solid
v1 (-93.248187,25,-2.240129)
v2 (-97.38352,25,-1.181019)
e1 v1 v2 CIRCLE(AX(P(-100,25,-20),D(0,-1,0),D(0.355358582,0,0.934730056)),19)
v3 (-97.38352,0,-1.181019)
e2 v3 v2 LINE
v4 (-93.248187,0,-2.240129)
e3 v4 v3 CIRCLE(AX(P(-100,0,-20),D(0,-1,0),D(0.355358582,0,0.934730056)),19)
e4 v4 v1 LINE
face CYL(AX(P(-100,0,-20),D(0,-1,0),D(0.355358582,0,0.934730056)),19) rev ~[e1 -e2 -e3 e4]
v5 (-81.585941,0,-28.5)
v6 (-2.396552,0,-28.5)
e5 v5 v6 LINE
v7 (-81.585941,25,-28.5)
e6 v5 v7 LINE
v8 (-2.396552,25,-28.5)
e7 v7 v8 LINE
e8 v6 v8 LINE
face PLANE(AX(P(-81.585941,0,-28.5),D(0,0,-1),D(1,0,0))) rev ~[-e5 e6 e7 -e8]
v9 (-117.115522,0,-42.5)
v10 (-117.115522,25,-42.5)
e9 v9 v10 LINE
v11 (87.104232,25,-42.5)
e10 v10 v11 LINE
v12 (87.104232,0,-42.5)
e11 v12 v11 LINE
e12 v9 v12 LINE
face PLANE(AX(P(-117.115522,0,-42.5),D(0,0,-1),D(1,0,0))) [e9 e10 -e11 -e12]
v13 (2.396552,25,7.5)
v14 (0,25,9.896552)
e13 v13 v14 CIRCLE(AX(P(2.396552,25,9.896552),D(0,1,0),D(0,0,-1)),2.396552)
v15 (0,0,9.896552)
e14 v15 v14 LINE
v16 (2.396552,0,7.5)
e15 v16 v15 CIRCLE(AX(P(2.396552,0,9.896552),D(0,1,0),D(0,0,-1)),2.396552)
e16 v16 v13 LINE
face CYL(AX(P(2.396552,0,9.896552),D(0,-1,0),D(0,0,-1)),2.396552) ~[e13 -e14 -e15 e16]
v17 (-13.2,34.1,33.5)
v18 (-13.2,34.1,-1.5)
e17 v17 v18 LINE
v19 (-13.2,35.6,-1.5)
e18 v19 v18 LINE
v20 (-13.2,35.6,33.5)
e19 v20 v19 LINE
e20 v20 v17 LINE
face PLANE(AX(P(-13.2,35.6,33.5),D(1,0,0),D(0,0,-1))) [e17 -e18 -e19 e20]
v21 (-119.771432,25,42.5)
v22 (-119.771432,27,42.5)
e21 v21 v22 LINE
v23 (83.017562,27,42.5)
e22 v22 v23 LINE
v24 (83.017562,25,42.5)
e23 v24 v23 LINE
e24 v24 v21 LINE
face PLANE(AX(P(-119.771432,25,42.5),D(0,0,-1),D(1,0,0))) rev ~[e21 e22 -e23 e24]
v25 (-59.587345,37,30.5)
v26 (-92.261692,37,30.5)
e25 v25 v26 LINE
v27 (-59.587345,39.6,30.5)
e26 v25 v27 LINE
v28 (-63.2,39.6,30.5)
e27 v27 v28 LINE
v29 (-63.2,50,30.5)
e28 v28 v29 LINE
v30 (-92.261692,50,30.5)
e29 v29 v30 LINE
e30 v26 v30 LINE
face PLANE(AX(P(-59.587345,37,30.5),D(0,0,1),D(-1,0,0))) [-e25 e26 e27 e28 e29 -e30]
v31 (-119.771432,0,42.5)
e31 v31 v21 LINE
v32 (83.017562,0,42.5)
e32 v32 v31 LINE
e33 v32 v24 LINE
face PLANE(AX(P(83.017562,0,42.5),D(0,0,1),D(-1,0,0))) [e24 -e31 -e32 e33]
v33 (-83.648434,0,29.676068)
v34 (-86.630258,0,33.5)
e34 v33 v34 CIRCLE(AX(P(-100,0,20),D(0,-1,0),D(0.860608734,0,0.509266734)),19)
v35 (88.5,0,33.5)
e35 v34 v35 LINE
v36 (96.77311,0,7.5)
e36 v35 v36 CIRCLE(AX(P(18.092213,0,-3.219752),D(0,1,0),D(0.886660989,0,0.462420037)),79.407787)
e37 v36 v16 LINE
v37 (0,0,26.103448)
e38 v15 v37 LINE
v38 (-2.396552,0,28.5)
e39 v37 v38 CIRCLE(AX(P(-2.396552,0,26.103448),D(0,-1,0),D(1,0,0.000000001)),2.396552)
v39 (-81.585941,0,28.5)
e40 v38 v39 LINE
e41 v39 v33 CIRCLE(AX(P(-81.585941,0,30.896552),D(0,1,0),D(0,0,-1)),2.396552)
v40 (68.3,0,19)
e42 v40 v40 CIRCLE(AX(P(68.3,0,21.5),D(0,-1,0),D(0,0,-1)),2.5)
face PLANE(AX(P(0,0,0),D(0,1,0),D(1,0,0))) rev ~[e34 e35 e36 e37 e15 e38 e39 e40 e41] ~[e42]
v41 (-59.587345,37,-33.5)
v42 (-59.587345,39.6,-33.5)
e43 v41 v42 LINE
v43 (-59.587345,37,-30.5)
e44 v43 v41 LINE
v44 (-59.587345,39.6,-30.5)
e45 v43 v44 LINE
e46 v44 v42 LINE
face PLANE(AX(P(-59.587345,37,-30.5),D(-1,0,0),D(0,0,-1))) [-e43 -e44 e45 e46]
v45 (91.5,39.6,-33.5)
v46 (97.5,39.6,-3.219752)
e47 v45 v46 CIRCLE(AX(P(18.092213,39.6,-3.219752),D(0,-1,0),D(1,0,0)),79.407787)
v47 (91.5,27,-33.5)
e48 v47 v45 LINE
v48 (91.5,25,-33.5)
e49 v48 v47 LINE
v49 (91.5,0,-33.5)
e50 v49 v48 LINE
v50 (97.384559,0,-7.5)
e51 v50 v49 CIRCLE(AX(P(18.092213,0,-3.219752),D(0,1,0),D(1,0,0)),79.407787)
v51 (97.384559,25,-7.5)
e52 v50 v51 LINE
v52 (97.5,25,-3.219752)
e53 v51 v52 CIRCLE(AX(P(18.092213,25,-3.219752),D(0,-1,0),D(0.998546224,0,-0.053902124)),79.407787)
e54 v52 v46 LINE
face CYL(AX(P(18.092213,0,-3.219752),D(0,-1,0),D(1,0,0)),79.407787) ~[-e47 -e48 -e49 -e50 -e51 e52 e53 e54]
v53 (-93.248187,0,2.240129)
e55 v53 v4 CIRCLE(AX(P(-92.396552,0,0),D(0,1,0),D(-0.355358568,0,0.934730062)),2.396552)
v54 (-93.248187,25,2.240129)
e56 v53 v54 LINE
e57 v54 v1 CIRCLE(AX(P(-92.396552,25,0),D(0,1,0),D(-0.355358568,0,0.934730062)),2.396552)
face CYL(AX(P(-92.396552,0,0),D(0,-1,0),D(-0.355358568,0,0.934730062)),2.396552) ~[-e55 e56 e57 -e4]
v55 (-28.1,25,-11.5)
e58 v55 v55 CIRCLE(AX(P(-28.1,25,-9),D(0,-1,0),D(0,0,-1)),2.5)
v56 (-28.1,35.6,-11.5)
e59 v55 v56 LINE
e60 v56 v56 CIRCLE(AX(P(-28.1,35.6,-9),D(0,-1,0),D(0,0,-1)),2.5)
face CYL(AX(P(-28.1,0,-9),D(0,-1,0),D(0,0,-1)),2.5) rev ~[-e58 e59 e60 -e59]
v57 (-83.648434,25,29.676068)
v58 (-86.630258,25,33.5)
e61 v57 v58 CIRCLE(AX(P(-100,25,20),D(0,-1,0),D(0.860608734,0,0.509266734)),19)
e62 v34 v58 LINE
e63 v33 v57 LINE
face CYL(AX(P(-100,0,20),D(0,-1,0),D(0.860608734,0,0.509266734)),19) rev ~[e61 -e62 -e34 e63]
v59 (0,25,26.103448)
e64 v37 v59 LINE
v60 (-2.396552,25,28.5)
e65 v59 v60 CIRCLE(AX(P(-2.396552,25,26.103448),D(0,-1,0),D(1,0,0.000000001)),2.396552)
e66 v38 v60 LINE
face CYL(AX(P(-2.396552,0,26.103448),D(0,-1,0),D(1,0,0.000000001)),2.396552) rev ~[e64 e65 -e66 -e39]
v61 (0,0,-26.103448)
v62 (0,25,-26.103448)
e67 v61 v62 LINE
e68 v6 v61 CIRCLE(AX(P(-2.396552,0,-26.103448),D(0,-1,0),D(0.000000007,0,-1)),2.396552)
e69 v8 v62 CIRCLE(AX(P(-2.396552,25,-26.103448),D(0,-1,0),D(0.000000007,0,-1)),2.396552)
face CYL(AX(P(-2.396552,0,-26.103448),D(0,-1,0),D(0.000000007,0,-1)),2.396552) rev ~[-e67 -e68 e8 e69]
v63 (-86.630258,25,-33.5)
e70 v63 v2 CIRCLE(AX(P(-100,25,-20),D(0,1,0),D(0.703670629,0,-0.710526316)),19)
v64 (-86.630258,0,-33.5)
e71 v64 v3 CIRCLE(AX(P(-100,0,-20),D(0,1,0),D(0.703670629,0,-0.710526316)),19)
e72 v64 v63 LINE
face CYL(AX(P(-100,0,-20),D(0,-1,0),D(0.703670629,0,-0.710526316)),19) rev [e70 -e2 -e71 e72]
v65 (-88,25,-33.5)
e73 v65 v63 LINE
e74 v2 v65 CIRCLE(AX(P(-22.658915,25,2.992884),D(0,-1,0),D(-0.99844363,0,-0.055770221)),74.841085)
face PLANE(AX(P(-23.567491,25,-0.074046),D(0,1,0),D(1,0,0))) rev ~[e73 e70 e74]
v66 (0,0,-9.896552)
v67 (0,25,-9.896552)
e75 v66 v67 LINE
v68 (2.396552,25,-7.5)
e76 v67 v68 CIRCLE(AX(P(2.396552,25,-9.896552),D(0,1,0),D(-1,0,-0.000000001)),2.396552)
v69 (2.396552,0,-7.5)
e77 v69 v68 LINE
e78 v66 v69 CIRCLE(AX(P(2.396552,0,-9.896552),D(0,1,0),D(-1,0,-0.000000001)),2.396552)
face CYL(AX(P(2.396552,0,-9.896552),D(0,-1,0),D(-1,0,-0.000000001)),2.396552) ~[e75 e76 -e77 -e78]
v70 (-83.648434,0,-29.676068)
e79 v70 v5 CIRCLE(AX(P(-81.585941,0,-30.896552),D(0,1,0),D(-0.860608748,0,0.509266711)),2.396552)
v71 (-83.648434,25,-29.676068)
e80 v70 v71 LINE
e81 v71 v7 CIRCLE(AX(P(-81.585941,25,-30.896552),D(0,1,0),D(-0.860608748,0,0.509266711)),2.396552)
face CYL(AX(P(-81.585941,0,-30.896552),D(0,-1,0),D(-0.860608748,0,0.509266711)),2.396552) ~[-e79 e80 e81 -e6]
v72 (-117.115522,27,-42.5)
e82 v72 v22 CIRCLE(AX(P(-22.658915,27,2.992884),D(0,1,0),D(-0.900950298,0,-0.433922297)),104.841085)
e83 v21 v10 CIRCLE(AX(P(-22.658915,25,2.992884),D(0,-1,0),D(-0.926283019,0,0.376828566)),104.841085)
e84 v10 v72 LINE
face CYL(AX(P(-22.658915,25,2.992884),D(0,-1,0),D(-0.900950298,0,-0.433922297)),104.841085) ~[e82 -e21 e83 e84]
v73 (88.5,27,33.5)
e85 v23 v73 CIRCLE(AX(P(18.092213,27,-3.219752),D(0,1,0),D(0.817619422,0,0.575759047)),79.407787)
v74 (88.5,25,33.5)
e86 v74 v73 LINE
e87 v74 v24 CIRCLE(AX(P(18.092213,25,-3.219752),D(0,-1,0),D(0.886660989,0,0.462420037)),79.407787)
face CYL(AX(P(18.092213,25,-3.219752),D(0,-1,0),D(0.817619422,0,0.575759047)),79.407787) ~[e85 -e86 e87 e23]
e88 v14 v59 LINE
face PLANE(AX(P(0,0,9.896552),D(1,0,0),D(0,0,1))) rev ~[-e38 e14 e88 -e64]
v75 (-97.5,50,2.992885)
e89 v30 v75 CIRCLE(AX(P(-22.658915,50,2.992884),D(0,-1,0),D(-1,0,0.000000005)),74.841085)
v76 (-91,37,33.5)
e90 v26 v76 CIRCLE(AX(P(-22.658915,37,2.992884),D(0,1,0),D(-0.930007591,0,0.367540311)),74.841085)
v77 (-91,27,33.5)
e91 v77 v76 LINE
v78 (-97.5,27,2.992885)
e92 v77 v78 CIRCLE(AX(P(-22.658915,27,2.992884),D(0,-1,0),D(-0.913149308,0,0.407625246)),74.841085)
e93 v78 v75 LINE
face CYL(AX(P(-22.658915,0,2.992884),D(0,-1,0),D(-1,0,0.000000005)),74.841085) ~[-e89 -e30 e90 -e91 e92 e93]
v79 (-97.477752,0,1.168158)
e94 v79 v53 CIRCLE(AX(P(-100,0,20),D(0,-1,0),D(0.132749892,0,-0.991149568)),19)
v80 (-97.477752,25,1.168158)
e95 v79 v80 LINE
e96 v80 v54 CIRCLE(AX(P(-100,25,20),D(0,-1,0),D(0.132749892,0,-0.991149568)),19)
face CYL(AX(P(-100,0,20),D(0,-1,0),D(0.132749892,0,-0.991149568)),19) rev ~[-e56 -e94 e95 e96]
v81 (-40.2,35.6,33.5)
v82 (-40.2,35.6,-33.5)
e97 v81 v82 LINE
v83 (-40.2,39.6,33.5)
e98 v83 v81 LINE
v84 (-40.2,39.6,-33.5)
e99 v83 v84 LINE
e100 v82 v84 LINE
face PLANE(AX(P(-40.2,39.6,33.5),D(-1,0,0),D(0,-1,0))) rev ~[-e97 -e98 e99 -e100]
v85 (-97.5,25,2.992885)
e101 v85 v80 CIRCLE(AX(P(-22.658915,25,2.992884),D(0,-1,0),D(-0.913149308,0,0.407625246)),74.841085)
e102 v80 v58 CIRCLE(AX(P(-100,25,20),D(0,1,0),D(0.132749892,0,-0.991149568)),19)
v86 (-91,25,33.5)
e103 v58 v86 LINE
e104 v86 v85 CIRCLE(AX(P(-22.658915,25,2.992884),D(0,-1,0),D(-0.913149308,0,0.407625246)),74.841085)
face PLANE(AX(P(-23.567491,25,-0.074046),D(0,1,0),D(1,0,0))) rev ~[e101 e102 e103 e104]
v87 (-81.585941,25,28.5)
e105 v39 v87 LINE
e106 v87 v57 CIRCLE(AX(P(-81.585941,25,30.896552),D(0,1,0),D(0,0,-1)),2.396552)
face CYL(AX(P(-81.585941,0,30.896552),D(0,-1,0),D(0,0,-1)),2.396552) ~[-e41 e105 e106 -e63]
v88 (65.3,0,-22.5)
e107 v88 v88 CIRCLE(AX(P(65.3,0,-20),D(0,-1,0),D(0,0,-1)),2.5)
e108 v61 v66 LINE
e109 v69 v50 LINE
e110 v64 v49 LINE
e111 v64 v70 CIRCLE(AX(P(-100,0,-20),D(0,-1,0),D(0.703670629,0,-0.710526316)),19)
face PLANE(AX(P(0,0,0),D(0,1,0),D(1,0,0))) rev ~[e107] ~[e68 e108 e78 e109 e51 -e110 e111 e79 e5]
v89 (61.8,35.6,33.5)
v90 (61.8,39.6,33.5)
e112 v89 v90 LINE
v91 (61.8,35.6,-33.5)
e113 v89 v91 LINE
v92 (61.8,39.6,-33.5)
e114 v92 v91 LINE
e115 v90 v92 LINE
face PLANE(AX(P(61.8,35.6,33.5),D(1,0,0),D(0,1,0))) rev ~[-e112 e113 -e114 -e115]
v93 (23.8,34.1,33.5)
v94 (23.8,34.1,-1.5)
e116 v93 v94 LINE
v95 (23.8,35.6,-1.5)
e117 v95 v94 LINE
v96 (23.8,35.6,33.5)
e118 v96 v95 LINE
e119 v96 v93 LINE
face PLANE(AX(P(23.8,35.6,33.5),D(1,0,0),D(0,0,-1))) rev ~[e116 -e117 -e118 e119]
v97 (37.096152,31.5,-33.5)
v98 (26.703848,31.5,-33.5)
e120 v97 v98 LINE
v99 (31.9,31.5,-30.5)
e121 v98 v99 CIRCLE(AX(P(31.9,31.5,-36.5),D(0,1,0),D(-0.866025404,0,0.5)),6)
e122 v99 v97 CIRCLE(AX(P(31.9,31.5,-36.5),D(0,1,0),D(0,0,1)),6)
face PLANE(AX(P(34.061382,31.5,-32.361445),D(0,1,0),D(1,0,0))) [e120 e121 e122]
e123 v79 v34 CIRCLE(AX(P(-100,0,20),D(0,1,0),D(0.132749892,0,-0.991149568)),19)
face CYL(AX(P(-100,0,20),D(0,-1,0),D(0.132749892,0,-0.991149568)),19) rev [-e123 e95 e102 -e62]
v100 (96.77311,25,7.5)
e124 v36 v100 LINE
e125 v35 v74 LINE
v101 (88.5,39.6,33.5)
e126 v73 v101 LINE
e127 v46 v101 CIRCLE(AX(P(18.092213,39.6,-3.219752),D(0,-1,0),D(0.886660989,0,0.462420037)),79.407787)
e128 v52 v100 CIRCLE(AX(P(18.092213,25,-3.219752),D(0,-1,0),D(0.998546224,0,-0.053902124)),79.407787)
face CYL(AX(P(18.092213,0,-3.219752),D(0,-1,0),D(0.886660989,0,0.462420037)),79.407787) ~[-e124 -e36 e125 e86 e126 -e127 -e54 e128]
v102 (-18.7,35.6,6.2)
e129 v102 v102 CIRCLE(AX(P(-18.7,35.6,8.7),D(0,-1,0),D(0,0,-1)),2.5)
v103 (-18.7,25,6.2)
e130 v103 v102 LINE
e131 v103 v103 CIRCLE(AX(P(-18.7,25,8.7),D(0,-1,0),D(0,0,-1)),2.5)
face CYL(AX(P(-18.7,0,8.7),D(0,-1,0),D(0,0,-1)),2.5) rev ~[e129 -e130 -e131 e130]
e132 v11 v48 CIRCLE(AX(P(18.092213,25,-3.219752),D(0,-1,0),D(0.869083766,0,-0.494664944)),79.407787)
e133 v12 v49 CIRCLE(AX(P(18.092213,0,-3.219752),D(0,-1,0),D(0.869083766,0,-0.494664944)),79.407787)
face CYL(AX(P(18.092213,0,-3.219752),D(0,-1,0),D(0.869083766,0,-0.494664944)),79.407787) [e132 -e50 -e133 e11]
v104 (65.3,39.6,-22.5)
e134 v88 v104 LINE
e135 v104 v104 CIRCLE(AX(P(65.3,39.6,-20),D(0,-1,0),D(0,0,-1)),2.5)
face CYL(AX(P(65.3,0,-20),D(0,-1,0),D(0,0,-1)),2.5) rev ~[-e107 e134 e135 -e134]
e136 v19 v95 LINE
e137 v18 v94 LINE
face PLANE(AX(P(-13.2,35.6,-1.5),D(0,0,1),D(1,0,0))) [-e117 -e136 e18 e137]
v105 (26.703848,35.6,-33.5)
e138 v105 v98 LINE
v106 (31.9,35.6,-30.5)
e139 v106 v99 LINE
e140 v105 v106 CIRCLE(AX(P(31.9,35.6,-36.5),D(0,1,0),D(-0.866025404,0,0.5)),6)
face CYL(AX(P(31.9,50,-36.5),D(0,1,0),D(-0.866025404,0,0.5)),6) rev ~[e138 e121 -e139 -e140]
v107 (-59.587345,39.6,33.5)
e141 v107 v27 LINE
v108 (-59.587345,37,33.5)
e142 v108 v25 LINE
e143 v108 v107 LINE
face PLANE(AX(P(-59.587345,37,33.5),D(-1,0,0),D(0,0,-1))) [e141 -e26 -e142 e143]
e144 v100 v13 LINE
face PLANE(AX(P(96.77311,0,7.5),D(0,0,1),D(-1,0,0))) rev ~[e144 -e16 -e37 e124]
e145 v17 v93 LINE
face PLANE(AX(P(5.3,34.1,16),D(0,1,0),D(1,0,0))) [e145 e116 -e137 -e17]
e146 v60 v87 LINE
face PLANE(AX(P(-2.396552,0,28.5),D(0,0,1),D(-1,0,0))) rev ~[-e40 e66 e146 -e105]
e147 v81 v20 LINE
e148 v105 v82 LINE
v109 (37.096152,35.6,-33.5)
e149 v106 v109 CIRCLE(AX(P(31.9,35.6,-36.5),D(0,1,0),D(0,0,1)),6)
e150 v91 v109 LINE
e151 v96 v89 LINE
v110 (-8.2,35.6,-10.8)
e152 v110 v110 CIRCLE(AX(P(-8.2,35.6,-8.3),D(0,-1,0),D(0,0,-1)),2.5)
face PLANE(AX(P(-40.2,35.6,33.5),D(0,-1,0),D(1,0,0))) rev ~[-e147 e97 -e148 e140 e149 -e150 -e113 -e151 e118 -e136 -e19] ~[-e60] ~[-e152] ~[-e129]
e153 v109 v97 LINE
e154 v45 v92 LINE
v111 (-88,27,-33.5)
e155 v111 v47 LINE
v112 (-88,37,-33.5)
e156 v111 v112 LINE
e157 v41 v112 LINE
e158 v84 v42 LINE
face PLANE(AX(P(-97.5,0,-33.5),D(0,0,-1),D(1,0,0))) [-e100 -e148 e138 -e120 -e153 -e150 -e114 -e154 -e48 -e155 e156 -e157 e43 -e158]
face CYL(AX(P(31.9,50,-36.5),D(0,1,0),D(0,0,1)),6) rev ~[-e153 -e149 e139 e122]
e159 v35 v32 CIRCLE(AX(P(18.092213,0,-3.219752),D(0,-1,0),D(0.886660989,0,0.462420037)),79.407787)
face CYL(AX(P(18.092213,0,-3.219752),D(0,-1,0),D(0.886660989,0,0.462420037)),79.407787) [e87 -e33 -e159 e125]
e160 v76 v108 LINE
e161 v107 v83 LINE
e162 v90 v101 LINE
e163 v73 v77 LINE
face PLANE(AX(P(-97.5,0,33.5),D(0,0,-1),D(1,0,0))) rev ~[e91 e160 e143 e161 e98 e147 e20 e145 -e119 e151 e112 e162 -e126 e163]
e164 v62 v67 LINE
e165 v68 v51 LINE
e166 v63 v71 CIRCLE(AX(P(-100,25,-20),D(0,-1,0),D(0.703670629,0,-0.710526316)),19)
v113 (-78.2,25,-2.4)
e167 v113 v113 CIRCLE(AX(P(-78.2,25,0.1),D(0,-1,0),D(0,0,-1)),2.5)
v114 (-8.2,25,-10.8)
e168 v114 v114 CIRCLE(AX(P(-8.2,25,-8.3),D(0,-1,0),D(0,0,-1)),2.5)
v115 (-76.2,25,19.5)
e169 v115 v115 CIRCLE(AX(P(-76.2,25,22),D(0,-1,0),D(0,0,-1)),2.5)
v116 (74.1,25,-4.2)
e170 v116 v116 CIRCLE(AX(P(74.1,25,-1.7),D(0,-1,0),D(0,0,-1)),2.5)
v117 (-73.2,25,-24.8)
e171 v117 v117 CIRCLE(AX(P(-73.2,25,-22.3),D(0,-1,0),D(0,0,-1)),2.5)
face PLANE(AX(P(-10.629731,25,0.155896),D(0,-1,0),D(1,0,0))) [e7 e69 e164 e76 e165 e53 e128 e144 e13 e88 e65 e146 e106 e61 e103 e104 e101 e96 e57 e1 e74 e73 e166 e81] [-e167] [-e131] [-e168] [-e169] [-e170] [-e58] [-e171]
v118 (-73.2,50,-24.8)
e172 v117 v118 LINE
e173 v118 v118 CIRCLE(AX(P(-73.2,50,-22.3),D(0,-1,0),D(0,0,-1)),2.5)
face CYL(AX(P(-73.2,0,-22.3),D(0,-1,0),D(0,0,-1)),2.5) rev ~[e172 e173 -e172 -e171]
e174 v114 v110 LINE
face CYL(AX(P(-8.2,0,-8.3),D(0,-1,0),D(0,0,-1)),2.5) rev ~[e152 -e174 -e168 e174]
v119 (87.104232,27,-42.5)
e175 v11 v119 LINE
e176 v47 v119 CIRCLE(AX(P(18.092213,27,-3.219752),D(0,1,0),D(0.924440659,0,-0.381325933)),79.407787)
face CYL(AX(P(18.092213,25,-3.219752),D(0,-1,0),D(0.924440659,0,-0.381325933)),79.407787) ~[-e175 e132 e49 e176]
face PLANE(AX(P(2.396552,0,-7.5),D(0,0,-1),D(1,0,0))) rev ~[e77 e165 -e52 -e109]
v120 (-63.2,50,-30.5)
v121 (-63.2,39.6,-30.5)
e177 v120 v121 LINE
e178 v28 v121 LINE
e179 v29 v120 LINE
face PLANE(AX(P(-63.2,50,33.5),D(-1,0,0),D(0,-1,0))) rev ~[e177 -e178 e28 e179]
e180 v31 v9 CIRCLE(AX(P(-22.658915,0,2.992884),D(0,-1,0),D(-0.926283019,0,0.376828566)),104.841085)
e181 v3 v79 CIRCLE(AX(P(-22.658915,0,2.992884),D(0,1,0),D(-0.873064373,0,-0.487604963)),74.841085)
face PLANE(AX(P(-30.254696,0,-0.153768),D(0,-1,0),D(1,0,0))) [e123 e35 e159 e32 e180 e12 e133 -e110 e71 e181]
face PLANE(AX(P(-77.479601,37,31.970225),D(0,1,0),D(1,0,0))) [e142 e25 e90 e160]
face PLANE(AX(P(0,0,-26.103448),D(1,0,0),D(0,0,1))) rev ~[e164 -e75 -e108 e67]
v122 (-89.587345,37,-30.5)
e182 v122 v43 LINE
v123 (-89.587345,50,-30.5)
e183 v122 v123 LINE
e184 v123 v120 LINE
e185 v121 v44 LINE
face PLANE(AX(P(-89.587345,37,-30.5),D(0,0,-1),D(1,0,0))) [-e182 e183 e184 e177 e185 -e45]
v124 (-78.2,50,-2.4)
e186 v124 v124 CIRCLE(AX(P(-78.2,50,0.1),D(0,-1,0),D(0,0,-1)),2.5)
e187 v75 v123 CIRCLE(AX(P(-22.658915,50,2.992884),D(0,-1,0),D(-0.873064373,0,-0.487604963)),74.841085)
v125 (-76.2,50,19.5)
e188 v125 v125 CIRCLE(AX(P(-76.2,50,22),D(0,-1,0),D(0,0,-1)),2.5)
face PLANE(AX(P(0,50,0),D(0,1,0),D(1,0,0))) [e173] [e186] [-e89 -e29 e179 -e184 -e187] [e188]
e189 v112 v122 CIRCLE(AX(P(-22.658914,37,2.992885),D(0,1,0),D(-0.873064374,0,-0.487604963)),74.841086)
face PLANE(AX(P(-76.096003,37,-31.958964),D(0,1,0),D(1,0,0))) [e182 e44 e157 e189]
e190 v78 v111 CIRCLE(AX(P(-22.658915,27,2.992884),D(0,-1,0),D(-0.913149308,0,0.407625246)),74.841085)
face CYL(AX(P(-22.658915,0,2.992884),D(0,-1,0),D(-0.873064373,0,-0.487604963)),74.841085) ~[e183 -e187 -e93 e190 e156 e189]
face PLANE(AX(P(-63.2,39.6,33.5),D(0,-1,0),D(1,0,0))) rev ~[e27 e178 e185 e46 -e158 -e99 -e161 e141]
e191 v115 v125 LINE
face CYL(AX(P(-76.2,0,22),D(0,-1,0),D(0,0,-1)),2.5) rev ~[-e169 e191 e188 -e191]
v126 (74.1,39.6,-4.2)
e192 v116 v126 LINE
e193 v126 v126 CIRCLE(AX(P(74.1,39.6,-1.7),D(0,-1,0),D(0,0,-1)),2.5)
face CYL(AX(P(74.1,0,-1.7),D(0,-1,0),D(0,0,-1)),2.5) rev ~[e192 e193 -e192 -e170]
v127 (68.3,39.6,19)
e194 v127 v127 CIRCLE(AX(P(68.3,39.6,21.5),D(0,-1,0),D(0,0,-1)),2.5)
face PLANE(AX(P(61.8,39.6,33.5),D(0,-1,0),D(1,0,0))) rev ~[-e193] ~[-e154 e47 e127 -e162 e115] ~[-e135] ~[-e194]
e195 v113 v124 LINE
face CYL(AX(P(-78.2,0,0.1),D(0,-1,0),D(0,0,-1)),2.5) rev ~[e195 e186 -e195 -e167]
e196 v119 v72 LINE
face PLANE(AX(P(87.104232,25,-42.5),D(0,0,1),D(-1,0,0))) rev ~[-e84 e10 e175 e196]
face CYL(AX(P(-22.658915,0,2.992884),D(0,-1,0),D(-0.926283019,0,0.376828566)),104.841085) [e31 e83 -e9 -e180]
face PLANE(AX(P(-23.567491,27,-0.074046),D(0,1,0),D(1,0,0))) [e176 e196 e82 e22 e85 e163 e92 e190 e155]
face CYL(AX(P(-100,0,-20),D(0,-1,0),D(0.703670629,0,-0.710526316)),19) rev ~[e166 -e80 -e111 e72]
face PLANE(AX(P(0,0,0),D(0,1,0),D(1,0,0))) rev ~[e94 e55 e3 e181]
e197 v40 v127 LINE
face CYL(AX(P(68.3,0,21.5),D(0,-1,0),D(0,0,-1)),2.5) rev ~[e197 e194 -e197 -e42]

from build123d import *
from build123d.topology import SkipClean

# Parameters (mm, degrees)
SKETCH1_W           = 195
SKETCH1_H           = 67
BOSS_EXTRUDE1_DEPTH = 50
CUT_EXTRUDE1_DEPTH  = 115.579666608
CUT_EXTRUDE2_DEPTH  = 129.433835106
CUT_EXTRUDE3_START  = -13
SKETCH4_W           = 3.612655346
SKETCH4_H           = 3
CUT_EXTRUDE3_DEPTH  = 13
SKETCH6_R           = 2.5
CUT_EXTRUDE4_DEPTH  = 115.579666608
SKETCH7_W           = 37
SKETCH7_H           = 35
CUT_EXTRUDE5_DEPTH  = 1.5
CUT_EXTRUDE6_DEPTH  = 18.5
SKETCH9_R           = 2.5
CUT_EXTRUDE7_DEPTH  = 25
BOSS_EXTRUDE2_START = 25
BOSS_EXTRUDE2_DEPTH = 25
BOSS_EXTRUDE3_DEPTH = 2


with BuildPart() as part:
    # Sketch1 → Boss-Extrude1 (new body)
    with BuildSketch(Plane(origin=(0, 0, 0), x_dir=(1, 0, 0), z_dir=(0, 1, 0))):
        Rectangle(SKETCH1_W, SKETCH1_H)
    extrude(amount=BOSS_EXTRUDE1_DEPTH)

    # Sketch2 → Cut-Extrude1 (cut, through all)
    with BuildSketch(Plane.XZ):
        with BuildLine():
            Line((97.5, -3.219751644), (97.5, 33.5))
            Line((97.5, 33.5), (88.5, 33.5))
            ThreePointArc((88.5, 33.5), (95.217186872, 15.683556008), (97.5, -3.219751644))
        make_face()
        with BuildLine():
            Line((97.5, -33.5), (97.5, -3.219751644))
            ThreePointArc((97.5, -3.219751644), (95.985558513, -18.65423771), (91.5, -33.5))
            Line((91.5, -33.5), (97.5, -33.5))
        make_face()
        with BuildLine():
            ThreePointArc((-88, -33.5), (-95.08607052, -15.861694529), (-97.5, 2.992884749))
            Line((-97.5, 2.992884749), (-97.5, -33.5))
            Line((-97.5, -33.5), (-88, -33.5))
        make_face()
        with BuildLine():
            ThreePointArc((-97.5, 2.992884749), (-95.856964648, 18.588830376), (-91, 33.5))
            Line((-91, 33.5), (-97.5, 33.5))
            Line((-97.5, 33.5), (-97.5, 2.992884749))
        make_face()
    extrude(amount=-CUT_EXTRUDE1_DEPTH, mode=Mode.SUBTRACT)

    # Sketch3 → Cut-Extrude2 (cut, through all)
    with BuildSketch(Plane(origin=(0, 0, 33.5), x_dir=(-1, 0, 0), z_dir=(0, 0, -1))):
        Polygon((63.2, 50), (63.2, 39.6), (40.2, 39.6), (40.2, 35.6), (-61.8, 35.6), (-61.8, 39.6), (-97.5, 39.6), (-97.5, 50), align=None)
    extrude(amount=CUT_EXTRUDE2_DEPTH, mode=Mode.SUBTRACT)

    # Sketch4 → Cut-Extrude3 (cut)
    with BuildSketch(Plane(origin=(0, 50, 0), x_dir=(1, 0, 0), z_dir=(0, 1, 0)).offset(CUT_EXTRUDE3_START)):
        with BuildLine():
            Line((-63.2, 30.5), (-63.2, 33.5))
            Line((-63.2, 33.5), (-88, 33.5))
            ThreePointArc((-88, 33.5), (-88.810680862, 32.008999469), (-89.587344654, 30.5))
            Line((-89.587344654, 30.5), (-63.2, 30.5))
        make_face()
        with Locations((-61.393672327, 32)):
            Rectangle(SKETCH4_W, SKETCH4_H)
        with BuildLine():
            Line((-63.2, -33.5), (-63.2, -30.5))
            Line((-63.2, -30.5), (-92.261692194, -30.5))
            ThreePointArc((-92.261692194, -30.5), (-91.647155152, -32.006859002), (-91, -33.5))
            Line((-91, -33.5), (-63.2, -33.5))
        make_face()
        with Locations((-61.393672327, -32)):
            Rectangle(SKETCH4_W, SKETCH4_H)
    extrude(amount=CUT_EXTRUDE3_DEPTH, mode=Mode.SUBTRACT)

    # Sketch6 → Cut-Extrude4 (cut, through all)
    with BuildSketch(Plane.XZ):
        with Locations(Location((-28.1, -9, 0), (0, 0, 270))):
            Circle(SKETCH6_R)
        with Locations(Location((-8.2, -8.3, 0), (0, 0, 270))):
            Circle(SKETCH6_R)
        with Locations(Location((-18.7, 8.7, 0), (0, 0, 270))):
            Circle(SKETCH6_R)
        with Locations(Location((-76.2, 22, 0), (0, 0, 270))):
            Circle(SKETCH6_R)
        with Locations(Location((-78.2, 0.1, 0), (0, 0, 270))):
            Circle(SKETCH6_R)
        with Locations(Location((-73.2, -22.3, 0), (0, 0, 270))):
            Circle(SKETCH6_R)
        with Locations(Location((65.3, -20, 0), (0, 0, 270))):
            Circle(SKETCH6_R)
        with Locations(Location((74.1, -1.7, 0), (0, 0, 270))):
            Circle(SKETCH6_R)
        with Locations(Location((68.3, 21.5, 0), (0, 0, 270))):
            Circle(SKETCH6_R)
    extrude(amount=-CUT_EXTRUDE4_DEPTH, mode=Mode.SUBTRACT)

    # Sketch7 → Cut-Extrude5 (cut)
    with BuildSketch(Plane(origin=(0, 35.6, 0), x_dir=(1, 0, 0), z_dir=(0, 1, 0))):
        with Locations((5.3, -16)):
            Rectangle(SKETCH7_W, SKETCH7_H)
    extrude(amount=-CUT_EXTRUDE5_DEPTH, mode=Mode.SUBTRACT)

    # Sketch8 → Cut-Extrude6 (cut)
    with BuildSketch(Plane(origin=(0, 50, 0), x_dir=(1, 0, 0), z_dir=(0, 1, 0))):
        with BuildLine():
            Line((37.096152423, 33.5), (31.9, 33.5))
            Line((31.9, 33.5), (31.9, 30.5))
            ThreePointArc((31.9, 30.5), (34.9, 31.303847577), (37.096152423, 33.5))
        make_face()
        with BuildLine():
            Line((31.9, 33.5), (26.703847577, 33.5))
            ThreePointArc((26.703847577, 33.5), (28.9, 31.303847577), (31.9, 30.5))
            Line((31.9, 30.5), (31.9, 33.5))
        make_face()
    extrude(amount=-CUT_EXTRUDE6_DEPTH, mode=Mode.SUBTRACT)

    # Sketch9 → Cut-Extrude7 (cut)
    with BuildSketch(Plane.XZ):
        with BuildLine():
            Line((-2.396551724, 28.5), (-81.585940529, 28.5))
            ThreePointArc((-81.585940529, 28.5), (-82.773060502, 28.814676047), (-83.648434047, 29.676067945))
            ThreePointArc((-83.648434047, 29.676067945), (-85.016854467, 31.683550399), (-86.630258043, 33.5))
            Line((-86.630258043, 33.5), (-91, 33.5))
            ThreePointArc((-91, 33.5), (-96.041663789, 17.695271398), (-97.477752055, 1.168158207))
            ThreePointArc((-97.477752055, 1.168158207), (-95.332095511, 1.5823273), (-93.248186912, 2.240128941))
            ThreePointArc((-93.248186912, 2.240128941), (-90, -7e-09), (-93.248186926, -2.240128936))
            ThreePointArc((-93.248186926, -2.240128936), (-95.286014537, -1.594067776), (-97.383519589, -1.181019415))
            ThreePointArc((-97.383519589, -1.181019415), (-94.531917422, -17.874782597), (-88, -33.5))
            Line((-88, -33.5), (-86.630258043, -33.5))
            ThreePointArc((-86.630258043, -33.5), (-85.016854382, -31.683550291), (-83.648433906, -29.676067708))
            ThreePointArc((-83.648433906, -29.676067708), (-82.773060382, -28.814675978), (-81.585940529, -28.5))
            Line((-81.585940529, -28.5), (-2.396551708, -28.5))
            ThreePointArc((-2.396551708, -28.5), (-0.701933743, -27.798066246), (0, -26.103448276))
            Line((0, -26.103448276), (0, -9.896551726))
            ThreePointArc((0, -9.896551726), (0.701933748, -8.201933749), (2.396551724, -7.5))
            Line((2.396551724, -7.5), (97.384558849, -7.5))
            ThreePointArc((97.384558849, -7.5), (97.434108416, 0.014482123), (96.773110049, 7.5))
            Line((96.773110049, 7.5), (2.396551724, 7.5))
            ThreePointArc((2.396551724, 7.5), (0.70193375, 8.201933747), (0, 9.896551721))
            Line((0, 9.896551721), (0, 26.103448276))
            ThreePointArc((0, 26.103448276), (-0.701933749, 27.798066251), (-2.396551724, 28.5))
        make_face()
        with Locations(Location((-73.2, -22.3, 0), (0, 0, 270))):
            Circle(SKETCH9_R, mode=Mode.SUBTRACT)
        with Locations(Location((-78.2, 0.1, 0), (0, 0, 270))):
            Circle(SKETCH9_R, mode=Mode.SUBTRACT)
        with Locations(Location((-28.1, -9, 0), (0, 0, 270))):
            Circle(SKETCH9_R, mode=Mode.SUBTRACT)
        with Locations(Location((-8.2, -8.3, 0), (0, 0, 270))):
            Circle(SKETCH9_R, mode=Mode.SUBTRACT)
        with Locations(Location((-76.2, 22, 0), (0, 0, 270))):
            Circle(SKETCH9_R, mode=Mode.SUBTRACT)
        with Locations(Location((-18.7, 8.7, 0), (0, 0, 270))):
            Circle(SKETCH9_R, mode=Mode.SUBTRACT)
        with Locations(Location((74.1, -1.7, 0), (0, 0, 270))):
            Circle(SKETCH9_R, mode=Mode.SUBTRACT)
    extrude(amount=-CUT_EXTRUDE7_DEPTH, mode=Mode.SUBTRACT)

    # Sketch10 → Boss-Extrude2 (add)
    with SkipClean():  # the faces are left unmerged after this step: merging them gives an invalid solid
        with BuildSketch(Plane.XZ.offset(-25).offset(BOSS_EXTRUDE2_START)):
            with BuildLine():
                ThreePointArc((-97.477752055, 1.168158207), (-118.013212767, 26.043522633), (-86.630258043, 33.5))
                Line((-86.630258043, 33.5), (88.5, 33.5))
                ThreePointArc((88.5, 33.5), (85.908246666, 38.091048485), (83.017561959, 42.5))
                Line((83.017561959, 42.5), (-119.771431792, 42.5))
                ThreePointArc((-119.771431792, 42.5), (-127.448858613, -0.281382159), (-117.115521807, -42.5))
                Line((-117.115521807, -42.5), (87.104231658, -42.5))
                ThreePointArc((87.104231658, -42.5), (89.444159442, -38.069376757), (91.5, -33.5))
                Line((91.5, -33.5), (-86.630258043, -33.5))
                ThreePointArc((-86.630258043, -33.5), (-118.028282029, -25.998420382), (-97.383519589, -1.181019415))
                ThreePointArc((-97.383519589, -1.181019415), (-97.43986106, -0.006800655), (-97.477752055, 1.168158207))
            make_face()
        extrude(amount=-BOSS_EXTRUDE2_DEPTH)

    # Sketch11 → Boss-Extrude3 (add)
    with SkipClean():  # the faces are left unmerged after this step: merging them gives an invalid solid
        with BuildSketch(Plane(origin=(0, 25, 0), x_dir=(1, 0, 0), z_dir=(0, 1, 0))):
            with BuildLine():
                ThreePointArc((83.017561959, -42.5), (85.908246666, -38.091048485), (88.5, -33.5))
                Line((88.5, -33.5), (-91, -33.5))
                ThreePointArc((-91, -33.5), (-97.425088146, 0.354854693), (-88, 33.5))
                Line((-88, 33.5), (91.5, 33.5))
                ThreePointArc((91.5, 33.5), (89.444159442, 38.069376757), (87.104231658, 42.5))
                Line((87.104231658, 42.5), (-117.115521807, 42.5))
                ThreePointArc((-117.115521807, 42.5), (-127.448858613, 0.281382159), (-119.771431792, -42.5))
                Line((-119.771431792, -42.5), (83.017561959, -42.5))
            make_face()
        extrude(amount=BOSS_EXTRUDE3_DEPTH)


solid = part.part
